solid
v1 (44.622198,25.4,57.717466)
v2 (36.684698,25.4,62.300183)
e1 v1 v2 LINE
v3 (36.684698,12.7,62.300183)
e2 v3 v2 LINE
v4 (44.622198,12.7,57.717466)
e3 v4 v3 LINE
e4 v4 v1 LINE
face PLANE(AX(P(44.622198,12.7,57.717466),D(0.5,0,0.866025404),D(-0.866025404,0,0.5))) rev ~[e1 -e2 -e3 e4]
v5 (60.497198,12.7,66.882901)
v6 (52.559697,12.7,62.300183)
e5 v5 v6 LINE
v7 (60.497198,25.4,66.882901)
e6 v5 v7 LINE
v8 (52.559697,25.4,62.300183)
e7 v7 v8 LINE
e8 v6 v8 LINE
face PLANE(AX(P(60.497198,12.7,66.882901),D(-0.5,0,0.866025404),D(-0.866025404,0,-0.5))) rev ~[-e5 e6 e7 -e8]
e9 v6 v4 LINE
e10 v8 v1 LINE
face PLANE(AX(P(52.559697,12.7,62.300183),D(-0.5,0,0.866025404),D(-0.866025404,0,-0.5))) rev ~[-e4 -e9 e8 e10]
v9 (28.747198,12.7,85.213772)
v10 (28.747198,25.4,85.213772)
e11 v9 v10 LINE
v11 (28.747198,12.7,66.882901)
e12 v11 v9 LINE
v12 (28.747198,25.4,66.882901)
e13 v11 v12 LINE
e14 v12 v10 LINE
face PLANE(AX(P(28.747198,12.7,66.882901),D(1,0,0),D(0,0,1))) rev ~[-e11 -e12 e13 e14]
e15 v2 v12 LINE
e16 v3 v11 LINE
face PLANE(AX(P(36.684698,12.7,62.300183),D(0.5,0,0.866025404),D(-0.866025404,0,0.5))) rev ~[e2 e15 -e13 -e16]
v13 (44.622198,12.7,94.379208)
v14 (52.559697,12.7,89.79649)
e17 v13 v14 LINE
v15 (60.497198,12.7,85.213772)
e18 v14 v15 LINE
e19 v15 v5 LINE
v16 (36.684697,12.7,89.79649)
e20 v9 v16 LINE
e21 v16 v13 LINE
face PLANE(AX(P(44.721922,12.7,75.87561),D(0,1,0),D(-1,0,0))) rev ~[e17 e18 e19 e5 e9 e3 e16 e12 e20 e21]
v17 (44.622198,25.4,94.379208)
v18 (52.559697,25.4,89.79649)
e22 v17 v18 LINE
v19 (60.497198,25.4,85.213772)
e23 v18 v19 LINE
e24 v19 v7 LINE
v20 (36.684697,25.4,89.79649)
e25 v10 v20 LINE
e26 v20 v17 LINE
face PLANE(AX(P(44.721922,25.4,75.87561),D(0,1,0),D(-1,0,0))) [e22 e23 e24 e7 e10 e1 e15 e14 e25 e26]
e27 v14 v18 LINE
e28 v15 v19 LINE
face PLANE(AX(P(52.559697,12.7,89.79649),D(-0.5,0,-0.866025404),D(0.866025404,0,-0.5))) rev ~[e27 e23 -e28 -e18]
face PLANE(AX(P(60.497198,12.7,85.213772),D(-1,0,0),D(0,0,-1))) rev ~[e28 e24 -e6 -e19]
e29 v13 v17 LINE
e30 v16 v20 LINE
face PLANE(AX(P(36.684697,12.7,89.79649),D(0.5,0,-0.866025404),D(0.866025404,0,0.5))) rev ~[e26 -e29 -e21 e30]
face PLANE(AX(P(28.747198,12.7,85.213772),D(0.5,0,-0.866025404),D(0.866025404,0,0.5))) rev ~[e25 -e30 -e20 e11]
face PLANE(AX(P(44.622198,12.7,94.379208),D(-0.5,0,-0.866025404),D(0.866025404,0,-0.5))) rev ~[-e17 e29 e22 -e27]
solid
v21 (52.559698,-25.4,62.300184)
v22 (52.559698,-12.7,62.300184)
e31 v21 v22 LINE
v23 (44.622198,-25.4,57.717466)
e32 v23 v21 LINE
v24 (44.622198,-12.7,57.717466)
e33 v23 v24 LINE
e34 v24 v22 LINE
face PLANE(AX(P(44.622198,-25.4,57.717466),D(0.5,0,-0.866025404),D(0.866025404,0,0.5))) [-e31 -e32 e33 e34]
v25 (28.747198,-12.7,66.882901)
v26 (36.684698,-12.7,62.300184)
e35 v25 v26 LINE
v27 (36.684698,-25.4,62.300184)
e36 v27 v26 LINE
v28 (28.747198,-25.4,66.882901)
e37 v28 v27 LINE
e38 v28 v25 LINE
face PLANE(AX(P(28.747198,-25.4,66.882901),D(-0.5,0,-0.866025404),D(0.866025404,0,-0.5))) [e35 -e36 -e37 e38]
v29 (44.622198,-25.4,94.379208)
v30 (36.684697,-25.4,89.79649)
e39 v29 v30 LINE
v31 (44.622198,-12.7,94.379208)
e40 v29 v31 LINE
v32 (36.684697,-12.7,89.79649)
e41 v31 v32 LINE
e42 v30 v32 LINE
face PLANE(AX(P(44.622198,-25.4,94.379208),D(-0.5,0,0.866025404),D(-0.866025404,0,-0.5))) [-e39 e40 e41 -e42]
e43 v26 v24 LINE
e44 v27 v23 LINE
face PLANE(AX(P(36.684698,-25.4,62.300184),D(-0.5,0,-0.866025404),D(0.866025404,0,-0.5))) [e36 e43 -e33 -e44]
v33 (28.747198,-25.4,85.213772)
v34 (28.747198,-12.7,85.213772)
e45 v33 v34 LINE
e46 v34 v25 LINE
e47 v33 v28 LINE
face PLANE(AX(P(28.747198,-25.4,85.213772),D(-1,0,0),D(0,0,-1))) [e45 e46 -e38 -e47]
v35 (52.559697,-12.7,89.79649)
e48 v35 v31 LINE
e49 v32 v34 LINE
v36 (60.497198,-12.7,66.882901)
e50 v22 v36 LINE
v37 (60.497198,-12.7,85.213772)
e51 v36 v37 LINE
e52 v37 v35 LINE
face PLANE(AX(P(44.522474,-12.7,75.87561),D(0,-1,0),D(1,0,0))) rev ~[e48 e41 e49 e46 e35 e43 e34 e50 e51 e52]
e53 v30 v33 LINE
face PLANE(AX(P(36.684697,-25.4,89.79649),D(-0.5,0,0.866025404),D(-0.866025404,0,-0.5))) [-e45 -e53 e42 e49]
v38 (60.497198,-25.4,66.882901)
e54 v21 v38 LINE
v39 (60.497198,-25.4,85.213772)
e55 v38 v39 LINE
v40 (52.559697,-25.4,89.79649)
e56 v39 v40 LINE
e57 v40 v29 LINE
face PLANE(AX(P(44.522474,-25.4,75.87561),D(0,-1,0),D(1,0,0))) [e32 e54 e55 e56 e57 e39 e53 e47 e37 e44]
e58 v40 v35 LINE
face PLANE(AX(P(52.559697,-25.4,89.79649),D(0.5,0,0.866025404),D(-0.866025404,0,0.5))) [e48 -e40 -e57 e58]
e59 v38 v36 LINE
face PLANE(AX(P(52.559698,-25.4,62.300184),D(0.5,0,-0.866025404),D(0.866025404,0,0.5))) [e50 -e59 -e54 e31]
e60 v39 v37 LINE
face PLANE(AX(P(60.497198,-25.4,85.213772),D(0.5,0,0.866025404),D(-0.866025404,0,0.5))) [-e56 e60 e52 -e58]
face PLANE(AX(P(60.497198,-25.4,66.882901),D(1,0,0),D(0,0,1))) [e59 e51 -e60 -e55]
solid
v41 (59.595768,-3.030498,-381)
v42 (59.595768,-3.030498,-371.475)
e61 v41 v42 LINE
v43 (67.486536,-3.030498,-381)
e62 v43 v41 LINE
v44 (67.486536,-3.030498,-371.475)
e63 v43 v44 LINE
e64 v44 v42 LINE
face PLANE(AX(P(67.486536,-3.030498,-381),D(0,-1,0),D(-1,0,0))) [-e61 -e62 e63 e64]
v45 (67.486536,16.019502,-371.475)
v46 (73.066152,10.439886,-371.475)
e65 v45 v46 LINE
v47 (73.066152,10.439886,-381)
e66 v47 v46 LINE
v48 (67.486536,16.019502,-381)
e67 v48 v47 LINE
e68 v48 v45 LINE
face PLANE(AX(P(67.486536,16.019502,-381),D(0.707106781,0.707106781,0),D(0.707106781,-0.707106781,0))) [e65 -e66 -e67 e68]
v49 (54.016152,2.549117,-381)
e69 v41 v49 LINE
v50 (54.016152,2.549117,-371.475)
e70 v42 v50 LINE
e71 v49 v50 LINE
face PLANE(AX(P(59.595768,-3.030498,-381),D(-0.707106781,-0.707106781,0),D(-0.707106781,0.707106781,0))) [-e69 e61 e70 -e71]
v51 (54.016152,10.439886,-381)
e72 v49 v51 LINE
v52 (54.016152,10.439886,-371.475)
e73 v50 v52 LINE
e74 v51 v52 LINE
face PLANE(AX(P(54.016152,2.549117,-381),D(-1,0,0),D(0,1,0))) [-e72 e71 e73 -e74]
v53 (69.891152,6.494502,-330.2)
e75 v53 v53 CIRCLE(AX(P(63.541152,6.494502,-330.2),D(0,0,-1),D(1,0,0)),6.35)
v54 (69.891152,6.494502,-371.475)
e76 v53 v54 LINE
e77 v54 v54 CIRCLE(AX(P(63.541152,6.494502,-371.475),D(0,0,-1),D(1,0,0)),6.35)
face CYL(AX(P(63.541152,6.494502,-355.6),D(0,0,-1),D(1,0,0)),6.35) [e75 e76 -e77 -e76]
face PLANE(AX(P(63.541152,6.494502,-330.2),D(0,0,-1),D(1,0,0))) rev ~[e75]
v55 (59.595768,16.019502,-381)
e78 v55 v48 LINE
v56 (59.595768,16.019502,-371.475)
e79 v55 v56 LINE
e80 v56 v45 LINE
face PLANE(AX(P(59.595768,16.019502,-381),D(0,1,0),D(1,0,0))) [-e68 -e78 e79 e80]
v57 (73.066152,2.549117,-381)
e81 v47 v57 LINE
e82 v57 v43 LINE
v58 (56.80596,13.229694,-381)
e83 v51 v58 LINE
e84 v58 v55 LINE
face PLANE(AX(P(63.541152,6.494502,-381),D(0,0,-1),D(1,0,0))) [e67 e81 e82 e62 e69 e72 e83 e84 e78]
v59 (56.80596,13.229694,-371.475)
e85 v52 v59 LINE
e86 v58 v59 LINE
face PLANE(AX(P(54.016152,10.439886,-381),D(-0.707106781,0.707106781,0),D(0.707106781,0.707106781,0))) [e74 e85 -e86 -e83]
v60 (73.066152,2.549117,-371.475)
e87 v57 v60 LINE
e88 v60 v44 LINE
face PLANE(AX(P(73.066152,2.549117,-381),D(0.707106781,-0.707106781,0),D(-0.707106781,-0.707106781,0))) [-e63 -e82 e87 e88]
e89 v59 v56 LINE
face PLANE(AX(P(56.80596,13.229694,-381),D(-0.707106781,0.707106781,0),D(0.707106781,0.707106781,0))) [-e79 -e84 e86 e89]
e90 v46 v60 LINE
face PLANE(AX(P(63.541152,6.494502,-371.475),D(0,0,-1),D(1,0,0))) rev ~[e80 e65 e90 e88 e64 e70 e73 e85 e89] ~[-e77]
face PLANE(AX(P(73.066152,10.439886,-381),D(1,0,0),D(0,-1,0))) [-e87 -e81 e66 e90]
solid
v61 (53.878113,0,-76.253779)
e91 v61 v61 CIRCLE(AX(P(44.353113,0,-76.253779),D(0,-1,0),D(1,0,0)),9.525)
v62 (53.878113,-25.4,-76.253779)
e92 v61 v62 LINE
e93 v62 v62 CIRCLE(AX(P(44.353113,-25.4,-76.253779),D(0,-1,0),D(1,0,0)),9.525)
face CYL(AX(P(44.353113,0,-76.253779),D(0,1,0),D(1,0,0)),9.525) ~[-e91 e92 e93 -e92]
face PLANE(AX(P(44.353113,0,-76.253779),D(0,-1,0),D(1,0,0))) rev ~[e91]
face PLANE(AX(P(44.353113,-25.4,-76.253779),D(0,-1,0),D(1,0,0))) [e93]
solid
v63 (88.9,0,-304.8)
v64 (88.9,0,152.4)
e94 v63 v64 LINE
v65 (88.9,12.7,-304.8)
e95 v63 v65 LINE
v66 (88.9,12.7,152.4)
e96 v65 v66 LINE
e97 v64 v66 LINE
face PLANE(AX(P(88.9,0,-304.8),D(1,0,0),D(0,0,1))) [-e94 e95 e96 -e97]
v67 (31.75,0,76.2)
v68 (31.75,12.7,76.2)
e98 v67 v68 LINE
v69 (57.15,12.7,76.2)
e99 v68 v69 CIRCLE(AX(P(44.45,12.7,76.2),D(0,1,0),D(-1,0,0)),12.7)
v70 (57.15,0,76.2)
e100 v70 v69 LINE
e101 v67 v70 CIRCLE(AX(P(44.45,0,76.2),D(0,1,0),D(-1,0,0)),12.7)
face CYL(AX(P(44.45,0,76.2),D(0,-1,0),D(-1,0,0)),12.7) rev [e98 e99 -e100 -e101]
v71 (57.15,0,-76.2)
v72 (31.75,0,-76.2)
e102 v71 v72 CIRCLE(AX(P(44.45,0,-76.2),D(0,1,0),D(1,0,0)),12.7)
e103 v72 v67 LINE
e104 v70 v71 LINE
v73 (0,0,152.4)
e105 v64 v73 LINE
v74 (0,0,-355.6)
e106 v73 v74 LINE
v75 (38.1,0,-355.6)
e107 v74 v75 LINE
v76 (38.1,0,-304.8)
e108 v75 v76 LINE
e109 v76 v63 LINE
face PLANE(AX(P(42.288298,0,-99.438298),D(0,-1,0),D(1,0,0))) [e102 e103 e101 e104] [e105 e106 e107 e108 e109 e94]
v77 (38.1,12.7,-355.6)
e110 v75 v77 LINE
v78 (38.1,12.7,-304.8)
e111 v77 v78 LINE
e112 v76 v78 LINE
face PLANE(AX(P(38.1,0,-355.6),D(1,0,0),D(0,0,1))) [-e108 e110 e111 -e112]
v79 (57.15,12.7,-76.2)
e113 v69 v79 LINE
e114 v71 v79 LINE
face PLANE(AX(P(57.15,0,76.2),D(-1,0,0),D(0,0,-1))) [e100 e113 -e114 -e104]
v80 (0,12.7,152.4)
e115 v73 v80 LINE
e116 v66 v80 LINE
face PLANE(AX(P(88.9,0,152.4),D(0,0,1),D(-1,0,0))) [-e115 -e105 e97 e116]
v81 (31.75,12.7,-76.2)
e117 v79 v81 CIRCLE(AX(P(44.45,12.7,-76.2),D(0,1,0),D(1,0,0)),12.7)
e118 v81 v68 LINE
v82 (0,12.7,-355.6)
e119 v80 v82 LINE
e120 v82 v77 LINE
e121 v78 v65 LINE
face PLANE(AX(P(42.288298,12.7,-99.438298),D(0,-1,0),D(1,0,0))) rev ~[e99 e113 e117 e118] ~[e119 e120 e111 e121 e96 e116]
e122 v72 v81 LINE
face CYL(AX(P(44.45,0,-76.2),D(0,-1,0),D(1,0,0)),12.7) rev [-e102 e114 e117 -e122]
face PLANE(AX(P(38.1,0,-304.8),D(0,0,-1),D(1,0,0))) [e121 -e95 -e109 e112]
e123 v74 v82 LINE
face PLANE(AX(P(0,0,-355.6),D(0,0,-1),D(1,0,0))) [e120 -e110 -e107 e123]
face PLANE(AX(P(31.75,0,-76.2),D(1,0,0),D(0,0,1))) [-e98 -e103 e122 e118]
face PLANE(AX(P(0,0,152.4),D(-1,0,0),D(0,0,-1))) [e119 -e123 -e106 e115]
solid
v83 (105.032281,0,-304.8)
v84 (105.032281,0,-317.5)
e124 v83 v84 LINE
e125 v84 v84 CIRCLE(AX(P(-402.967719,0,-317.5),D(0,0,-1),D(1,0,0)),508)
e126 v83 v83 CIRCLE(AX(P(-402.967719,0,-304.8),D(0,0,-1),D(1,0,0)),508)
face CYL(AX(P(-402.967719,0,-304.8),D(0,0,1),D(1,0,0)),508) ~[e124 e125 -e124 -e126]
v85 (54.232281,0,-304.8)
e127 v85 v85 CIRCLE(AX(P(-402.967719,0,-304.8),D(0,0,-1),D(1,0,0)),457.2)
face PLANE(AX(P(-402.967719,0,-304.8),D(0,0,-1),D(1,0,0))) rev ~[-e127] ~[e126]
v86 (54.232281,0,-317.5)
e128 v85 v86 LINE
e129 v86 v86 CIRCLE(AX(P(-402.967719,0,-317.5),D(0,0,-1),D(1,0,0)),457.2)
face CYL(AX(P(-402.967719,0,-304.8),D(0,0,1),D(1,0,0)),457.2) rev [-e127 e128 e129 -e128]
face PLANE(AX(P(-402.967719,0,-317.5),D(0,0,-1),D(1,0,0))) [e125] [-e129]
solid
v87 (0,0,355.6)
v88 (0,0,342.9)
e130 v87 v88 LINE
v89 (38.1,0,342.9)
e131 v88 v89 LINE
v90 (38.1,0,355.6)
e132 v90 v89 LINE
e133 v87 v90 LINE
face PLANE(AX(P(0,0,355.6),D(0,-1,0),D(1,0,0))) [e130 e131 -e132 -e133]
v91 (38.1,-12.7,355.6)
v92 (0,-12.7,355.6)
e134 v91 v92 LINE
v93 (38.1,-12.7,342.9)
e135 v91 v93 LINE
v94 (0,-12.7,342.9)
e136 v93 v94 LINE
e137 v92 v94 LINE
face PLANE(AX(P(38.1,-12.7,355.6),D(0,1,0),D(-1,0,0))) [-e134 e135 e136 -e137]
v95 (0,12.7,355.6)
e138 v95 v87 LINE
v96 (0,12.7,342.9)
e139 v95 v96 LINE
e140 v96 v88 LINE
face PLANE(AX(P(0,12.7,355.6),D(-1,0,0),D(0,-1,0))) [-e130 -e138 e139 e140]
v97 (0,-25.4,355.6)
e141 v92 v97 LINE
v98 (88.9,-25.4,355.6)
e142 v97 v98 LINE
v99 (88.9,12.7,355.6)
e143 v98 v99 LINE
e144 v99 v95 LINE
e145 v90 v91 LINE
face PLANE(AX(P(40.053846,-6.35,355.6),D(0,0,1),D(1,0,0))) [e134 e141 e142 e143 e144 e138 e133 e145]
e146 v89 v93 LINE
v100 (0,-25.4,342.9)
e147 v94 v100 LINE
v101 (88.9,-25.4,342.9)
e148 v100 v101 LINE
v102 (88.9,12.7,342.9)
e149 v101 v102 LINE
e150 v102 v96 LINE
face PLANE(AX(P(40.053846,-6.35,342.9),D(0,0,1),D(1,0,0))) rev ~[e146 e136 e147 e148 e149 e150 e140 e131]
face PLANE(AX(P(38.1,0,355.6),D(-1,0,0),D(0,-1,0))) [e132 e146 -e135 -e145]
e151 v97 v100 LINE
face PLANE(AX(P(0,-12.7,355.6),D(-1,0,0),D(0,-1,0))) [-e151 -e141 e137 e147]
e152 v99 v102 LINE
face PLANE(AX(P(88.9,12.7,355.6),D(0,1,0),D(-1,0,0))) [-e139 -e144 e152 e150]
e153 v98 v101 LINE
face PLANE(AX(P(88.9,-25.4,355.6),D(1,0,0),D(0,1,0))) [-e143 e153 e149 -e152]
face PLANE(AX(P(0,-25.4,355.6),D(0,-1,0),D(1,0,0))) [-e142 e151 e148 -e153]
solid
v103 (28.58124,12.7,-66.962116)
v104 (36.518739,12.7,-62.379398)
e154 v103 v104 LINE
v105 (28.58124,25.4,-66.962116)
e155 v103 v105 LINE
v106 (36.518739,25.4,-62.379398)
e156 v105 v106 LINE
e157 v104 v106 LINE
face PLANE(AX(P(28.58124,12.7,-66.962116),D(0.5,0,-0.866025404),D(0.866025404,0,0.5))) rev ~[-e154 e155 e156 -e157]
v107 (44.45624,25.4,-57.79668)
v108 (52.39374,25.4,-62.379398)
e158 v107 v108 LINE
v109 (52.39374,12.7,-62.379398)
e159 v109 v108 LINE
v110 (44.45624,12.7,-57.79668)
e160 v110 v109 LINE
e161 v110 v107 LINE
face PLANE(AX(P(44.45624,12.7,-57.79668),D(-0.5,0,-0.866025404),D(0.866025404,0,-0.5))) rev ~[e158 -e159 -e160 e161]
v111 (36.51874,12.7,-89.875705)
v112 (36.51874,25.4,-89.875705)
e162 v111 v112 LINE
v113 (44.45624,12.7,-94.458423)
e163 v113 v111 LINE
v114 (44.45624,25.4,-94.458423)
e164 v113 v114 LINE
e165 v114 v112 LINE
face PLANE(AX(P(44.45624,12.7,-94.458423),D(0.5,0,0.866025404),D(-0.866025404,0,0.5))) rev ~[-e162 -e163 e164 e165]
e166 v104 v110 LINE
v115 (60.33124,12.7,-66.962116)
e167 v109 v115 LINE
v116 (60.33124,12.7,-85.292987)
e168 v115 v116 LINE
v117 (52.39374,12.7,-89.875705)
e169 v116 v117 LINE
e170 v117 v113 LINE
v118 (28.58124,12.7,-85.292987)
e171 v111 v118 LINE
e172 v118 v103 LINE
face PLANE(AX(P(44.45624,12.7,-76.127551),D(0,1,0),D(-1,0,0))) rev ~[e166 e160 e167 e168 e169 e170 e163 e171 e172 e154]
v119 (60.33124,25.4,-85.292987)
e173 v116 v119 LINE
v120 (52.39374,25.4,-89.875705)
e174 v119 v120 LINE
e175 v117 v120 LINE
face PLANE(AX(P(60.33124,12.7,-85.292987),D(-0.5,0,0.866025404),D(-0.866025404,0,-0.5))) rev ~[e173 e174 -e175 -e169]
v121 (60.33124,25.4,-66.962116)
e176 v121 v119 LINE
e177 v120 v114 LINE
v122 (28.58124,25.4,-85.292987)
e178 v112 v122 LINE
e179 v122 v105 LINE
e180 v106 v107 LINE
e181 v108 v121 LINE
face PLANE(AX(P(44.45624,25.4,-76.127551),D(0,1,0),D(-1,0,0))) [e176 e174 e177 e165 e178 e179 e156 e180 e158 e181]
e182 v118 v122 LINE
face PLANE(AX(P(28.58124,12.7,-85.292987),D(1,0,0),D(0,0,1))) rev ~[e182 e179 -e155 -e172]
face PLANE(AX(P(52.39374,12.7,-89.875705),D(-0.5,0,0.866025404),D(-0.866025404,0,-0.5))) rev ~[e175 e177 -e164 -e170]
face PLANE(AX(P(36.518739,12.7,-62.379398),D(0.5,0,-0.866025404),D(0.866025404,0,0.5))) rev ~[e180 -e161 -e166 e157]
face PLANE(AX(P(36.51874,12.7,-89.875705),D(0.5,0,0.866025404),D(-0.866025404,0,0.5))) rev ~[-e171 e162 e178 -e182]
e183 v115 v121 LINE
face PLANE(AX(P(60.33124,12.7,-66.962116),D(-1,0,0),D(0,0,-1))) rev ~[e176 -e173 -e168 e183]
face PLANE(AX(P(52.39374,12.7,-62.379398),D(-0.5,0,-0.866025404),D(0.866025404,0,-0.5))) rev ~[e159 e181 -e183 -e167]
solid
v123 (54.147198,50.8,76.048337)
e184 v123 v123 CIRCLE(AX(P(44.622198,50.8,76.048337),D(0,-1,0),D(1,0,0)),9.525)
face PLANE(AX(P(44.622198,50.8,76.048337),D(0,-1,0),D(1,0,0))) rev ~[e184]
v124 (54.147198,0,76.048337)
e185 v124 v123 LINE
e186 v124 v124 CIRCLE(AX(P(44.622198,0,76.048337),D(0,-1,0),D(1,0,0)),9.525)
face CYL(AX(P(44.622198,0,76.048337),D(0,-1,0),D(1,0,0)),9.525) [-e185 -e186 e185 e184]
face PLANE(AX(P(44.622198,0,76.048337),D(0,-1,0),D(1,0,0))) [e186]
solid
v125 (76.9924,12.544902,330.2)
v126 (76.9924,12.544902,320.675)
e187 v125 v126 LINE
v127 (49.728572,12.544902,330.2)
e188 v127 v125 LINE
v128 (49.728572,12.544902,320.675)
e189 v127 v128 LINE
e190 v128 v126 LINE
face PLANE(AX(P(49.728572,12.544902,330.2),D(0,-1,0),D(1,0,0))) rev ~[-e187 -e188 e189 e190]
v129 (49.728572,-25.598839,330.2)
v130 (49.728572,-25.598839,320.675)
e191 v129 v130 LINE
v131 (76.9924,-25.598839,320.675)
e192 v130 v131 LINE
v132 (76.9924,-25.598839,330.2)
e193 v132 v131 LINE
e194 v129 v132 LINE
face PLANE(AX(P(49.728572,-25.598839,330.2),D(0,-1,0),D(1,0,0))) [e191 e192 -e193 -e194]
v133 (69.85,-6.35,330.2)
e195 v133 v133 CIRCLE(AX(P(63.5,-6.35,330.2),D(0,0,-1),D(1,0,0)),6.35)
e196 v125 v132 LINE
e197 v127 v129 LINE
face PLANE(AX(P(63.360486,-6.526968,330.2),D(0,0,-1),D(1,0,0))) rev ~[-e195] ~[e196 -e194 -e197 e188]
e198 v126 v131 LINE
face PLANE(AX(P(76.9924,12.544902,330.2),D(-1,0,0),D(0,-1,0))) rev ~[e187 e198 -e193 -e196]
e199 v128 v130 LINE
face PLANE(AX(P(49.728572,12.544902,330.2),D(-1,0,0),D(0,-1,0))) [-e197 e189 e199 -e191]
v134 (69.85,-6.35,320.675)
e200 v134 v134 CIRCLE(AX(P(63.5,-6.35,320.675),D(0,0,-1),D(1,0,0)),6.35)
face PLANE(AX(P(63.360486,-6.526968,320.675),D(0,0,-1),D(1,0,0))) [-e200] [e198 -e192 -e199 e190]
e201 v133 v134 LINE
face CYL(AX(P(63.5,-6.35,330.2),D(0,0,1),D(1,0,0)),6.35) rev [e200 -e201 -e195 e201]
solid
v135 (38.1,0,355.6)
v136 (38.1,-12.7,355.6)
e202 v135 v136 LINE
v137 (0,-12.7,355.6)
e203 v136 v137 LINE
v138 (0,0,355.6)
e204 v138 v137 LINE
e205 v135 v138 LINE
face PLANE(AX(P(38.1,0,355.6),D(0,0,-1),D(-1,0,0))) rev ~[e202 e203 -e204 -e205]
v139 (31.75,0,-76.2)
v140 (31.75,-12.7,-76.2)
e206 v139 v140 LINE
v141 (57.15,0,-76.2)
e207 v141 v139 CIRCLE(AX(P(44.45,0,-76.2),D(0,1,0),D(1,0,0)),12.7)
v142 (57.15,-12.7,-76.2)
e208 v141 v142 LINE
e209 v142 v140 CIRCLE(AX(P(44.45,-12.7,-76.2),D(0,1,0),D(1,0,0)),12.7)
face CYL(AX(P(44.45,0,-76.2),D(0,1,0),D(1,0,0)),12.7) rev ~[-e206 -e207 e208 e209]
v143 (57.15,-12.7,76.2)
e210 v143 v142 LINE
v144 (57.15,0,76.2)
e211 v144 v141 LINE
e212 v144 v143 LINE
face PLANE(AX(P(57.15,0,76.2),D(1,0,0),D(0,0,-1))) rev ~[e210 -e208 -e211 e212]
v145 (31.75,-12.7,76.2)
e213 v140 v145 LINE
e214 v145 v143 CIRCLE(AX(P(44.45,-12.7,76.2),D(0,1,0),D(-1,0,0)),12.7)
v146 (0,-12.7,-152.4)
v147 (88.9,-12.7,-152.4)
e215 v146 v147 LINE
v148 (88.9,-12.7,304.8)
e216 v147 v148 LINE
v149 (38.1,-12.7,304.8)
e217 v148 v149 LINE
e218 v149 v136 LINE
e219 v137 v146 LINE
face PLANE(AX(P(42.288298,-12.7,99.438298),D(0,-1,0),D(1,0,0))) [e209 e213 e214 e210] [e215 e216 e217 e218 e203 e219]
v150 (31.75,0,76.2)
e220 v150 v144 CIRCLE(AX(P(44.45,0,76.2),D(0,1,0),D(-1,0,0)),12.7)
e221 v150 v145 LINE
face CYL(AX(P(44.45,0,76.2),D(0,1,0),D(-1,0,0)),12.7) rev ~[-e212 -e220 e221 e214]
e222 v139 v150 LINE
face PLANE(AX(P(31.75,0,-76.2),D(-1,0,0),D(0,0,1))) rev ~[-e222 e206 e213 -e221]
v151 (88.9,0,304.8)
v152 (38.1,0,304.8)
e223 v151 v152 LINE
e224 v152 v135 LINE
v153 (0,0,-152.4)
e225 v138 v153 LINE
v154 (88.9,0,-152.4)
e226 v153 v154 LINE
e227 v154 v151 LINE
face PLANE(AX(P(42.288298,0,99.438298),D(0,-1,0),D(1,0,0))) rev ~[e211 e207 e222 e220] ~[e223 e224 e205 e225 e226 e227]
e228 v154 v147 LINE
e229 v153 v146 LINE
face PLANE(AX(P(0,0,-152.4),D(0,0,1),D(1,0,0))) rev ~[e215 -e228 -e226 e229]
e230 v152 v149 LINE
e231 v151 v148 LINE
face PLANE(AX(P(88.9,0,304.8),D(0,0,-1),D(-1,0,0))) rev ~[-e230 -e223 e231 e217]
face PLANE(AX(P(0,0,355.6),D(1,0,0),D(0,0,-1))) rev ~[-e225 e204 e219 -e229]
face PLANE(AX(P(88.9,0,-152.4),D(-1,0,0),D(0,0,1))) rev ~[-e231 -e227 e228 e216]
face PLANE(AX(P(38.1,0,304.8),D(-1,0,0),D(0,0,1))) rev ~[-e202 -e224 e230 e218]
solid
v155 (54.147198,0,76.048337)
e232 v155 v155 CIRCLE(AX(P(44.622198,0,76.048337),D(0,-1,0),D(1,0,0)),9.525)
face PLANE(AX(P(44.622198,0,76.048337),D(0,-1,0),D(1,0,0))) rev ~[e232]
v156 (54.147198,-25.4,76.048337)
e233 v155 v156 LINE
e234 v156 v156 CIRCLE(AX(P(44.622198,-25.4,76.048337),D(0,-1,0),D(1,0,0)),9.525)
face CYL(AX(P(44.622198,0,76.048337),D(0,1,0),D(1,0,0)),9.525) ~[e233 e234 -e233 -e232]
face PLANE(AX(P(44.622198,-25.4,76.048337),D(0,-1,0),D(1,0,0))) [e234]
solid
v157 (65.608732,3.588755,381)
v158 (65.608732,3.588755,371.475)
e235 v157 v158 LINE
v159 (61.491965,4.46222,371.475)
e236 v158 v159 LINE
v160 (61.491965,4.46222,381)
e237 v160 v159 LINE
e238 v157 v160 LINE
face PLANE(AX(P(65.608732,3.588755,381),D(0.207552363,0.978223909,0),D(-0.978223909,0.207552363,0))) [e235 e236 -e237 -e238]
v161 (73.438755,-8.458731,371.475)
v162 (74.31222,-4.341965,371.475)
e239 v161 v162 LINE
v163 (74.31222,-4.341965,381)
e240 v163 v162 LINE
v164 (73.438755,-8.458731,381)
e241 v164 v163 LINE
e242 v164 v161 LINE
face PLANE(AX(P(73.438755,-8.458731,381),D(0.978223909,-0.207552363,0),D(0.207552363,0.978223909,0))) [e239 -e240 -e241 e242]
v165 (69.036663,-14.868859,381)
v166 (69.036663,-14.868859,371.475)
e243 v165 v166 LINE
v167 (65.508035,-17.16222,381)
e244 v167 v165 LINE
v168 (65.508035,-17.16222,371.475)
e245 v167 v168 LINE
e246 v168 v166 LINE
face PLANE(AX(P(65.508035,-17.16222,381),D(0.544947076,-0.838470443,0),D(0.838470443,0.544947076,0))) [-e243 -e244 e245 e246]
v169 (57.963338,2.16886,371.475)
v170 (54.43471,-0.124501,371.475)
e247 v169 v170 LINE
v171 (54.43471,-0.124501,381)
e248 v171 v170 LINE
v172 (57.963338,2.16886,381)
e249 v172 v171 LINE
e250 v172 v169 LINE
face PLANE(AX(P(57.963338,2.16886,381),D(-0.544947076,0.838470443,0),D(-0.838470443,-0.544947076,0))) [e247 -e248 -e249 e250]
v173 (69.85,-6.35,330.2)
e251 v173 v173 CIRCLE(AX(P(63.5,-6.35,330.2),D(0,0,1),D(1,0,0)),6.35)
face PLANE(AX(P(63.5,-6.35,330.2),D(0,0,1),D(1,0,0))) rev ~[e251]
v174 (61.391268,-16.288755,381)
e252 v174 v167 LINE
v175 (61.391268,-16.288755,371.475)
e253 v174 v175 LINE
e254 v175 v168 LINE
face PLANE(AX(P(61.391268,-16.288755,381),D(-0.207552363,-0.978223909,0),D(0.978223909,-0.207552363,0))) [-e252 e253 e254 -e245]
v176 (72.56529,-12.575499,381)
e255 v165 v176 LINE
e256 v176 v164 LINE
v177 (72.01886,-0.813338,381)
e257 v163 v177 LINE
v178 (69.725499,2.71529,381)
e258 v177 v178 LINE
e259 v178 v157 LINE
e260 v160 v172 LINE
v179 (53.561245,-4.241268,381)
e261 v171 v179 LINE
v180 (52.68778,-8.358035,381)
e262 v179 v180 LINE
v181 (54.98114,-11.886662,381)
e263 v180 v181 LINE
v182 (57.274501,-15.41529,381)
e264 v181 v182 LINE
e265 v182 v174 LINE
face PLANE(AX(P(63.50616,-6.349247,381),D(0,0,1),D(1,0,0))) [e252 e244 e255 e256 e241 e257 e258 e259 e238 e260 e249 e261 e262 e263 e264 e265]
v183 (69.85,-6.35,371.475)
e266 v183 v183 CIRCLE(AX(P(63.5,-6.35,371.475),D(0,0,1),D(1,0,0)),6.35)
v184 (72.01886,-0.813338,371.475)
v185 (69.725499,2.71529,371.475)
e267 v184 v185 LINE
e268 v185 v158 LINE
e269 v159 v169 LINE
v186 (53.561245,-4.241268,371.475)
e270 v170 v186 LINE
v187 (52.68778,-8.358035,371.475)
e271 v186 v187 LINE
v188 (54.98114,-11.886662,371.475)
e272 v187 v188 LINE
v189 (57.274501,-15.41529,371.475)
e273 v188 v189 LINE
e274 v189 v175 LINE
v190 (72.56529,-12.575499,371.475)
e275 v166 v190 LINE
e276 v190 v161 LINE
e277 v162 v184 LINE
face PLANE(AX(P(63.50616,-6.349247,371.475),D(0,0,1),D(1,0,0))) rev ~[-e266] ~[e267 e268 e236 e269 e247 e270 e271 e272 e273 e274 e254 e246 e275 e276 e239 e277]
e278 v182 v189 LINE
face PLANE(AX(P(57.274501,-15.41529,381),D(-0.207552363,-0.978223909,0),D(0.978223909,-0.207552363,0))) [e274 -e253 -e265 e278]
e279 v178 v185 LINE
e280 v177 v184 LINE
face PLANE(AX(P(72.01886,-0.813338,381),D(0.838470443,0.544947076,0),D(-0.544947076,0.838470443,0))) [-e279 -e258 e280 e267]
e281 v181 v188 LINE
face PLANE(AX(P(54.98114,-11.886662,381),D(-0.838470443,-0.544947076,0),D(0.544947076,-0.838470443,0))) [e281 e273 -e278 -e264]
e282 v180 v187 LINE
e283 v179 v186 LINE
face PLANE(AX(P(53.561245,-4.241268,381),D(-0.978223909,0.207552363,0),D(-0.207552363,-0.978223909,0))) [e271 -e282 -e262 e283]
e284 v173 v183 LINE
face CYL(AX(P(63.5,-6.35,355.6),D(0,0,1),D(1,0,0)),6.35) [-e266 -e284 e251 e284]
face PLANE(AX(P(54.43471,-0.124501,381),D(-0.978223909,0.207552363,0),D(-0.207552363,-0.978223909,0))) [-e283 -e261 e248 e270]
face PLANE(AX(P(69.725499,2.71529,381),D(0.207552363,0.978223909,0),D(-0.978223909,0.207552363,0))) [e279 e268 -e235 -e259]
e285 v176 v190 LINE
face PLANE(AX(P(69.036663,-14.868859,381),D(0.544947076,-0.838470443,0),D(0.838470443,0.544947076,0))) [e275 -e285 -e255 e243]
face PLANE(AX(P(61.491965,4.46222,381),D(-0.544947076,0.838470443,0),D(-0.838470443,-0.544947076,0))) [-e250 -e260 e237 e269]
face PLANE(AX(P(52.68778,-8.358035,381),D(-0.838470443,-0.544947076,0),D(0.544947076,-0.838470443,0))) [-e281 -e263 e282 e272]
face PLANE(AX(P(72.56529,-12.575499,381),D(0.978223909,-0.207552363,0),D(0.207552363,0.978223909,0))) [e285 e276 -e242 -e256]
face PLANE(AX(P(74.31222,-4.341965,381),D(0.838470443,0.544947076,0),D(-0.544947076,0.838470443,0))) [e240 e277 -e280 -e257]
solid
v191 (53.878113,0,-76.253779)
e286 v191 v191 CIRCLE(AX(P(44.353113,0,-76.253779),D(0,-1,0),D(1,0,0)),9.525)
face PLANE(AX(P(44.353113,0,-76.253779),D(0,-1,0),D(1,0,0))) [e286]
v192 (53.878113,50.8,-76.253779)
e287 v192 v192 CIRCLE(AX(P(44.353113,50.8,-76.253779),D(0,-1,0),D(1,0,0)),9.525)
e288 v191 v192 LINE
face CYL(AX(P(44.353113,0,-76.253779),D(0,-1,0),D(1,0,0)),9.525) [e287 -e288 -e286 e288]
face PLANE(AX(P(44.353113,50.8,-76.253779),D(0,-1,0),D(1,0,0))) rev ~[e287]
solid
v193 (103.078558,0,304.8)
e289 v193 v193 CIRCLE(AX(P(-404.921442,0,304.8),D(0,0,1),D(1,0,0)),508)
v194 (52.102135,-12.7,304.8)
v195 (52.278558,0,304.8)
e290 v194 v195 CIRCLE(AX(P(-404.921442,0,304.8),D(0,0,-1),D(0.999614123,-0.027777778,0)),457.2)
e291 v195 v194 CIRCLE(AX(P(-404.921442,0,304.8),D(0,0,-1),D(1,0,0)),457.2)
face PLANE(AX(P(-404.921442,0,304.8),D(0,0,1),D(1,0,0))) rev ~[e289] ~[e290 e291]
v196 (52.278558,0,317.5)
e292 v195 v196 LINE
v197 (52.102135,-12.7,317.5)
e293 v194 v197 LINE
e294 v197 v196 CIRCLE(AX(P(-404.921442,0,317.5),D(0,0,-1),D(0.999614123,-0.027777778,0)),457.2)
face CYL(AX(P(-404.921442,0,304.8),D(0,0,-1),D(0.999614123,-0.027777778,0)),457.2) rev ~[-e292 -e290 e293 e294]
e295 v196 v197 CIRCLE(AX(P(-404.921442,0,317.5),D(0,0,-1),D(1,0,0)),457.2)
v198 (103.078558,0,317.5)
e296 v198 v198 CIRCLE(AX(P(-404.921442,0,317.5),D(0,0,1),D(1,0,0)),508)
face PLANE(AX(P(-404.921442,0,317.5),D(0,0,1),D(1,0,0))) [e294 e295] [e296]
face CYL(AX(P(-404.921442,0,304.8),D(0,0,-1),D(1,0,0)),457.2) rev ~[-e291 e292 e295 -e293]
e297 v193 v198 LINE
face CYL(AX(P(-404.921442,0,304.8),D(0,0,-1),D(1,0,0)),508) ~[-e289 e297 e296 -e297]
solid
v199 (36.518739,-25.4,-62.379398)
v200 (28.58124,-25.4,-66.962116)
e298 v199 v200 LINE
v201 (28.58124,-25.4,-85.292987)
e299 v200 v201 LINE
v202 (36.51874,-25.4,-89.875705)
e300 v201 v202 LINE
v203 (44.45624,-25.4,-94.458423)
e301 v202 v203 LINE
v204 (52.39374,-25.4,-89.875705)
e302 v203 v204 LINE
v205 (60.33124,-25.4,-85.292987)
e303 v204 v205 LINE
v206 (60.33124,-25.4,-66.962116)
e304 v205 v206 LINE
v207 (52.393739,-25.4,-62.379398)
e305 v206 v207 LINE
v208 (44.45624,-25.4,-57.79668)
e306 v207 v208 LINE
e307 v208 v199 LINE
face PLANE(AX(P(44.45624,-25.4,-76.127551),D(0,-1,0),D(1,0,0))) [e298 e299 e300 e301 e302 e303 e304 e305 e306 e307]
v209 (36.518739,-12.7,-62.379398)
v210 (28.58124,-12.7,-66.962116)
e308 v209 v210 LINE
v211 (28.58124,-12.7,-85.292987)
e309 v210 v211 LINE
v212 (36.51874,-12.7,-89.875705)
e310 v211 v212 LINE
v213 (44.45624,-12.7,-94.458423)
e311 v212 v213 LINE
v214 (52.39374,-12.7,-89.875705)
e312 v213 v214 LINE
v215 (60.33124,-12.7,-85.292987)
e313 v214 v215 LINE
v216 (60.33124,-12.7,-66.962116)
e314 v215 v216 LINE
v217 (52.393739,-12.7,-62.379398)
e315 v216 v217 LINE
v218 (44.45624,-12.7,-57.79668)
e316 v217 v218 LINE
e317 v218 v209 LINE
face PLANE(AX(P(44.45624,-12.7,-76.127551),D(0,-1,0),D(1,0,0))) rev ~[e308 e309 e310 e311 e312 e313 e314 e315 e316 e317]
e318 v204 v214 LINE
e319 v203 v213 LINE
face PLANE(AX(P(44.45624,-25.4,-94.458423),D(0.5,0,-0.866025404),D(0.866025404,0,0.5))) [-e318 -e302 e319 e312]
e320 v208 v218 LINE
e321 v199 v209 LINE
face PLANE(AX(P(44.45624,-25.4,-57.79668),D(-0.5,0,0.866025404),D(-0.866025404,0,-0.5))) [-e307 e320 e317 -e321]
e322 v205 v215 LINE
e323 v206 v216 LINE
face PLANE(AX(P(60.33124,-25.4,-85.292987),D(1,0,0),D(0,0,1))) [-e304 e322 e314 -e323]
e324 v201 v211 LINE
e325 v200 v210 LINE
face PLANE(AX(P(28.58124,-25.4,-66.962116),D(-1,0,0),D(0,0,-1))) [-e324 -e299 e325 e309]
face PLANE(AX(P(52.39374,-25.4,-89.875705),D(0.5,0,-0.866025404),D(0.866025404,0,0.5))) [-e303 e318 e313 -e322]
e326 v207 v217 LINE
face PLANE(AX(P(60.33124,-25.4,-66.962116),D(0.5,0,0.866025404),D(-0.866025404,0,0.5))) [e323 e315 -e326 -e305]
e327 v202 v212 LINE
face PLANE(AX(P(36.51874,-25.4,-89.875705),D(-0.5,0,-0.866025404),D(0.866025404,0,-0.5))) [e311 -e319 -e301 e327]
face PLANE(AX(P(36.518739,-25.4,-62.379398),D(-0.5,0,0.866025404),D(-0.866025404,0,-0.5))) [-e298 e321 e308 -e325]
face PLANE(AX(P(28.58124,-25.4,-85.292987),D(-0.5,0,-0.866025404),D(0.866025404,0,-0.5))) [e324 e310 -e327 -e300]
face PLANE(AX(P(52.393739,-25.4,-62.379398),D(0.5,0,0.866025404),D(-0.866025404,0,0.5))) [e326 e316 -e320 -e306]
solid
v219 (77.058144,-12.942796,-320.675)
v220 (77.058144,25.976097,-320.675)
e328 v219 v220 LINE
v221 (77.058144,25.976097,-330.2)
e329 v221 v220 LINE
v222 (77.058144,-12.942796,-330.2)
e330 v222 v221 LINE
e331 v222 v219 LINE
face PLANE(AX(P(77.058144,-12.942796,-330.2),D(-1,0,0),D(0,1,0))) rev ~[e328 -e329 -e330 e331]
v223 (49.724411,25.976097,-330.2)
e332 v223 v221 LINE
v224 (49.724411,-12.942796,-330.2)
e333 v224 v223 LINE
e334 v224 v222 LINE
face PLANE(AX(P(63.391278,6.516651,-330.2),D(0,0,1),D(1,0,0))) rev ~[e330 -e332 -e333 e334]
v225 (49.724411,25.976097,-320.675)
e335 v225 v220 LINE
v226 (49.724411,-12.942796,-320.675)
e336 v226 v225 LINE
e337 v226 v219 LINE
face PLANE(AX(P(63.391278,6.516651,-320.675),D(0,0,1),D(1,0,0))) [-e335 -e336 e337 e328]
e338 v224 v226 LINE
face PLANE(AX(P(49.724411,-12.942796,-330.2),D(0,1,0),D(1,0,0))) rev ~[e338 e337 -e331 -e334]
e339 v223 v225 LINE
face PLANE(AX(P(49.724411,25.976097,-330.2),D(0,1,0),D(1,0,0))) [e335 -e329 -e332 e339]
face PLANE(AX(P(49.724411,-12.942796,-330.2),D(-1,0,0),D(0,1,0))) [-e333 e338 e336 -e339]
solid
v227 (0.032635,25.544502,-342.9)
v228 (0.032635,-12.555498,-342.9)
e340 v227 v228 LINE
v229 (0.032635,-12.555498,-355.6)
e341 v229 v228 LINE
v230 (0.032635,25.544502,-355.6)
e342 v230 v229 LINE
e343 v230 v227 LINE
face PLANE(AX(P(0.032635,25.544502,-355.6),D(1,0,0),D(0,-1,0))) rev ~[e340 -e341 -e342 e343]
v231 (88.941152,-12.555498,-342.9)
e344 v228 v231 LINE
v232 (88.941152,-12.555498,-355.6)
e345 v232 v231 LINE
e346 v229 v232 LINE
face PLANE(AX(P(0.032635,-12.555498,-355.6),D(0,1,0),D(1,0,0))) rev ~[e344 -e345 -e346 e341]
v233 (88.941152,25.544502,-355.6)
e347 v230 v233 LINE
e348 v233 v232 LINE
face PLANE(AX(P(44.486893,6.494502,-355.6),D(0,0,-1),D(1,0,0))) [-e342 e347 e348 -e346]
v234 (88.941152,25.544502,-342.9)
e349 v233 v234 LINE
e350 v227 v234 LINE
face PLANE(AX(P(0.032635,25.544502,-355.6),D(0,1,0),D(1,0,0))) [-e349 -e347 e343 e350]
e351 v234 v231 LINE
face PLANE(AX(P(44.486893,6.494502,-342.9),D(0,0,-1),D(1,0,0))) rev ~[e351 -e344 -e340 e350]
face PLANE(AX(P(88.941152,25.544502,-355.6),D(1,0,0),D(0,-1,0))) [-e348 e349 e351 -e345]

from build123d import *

# Parameters (mm, degrees)
F1_DEPTH  = 12.7
F3_DEPTH  = 12.7
F4_R      = 6.35
F5_DEPTH  = 25.4
F6_W      = 27.2638276219
F6_H      = 38.1437409669
F6_R      = 6.35
F7_DEPTH  = 9.525
F9_DEPTH  = 9.525
F11_DEPTH = 12.7
F12_W     = 88.9085167986
F12_H     = 38.1
F13_DEPTH = 12.7
F14_R     = 6.35
F15_DEPTH = 25.4
F16_W     = 27.3337326944
F16_H     = 38.918892853
F17_DEPTH = 9.525
F19_DEPTH = 9.525
F20_R     = 508
F21_DEPTH = 12.7
F22_R     = 508
F22_R_2   = 457.2
F23_DEPTH = 12.7
F24_R     = 9.525
F25_DEPTH = 25.4
F26_DEPTH = 50.8
F28_DEPTH = 12.7
F30_DEPTH = 12.7


with BuildPart() as f1:
    # F0 (on Front) → F1 (new body)
    with BuildSketch(Plane.XZ):
        Polygon((0, 355.6), (0, 0), (0, -152.4), (88.9, -152.4), (88.9, 304.8), (38.1, 304.8), (38.1, 355.6), align=None)
        with BuildLine():
            Line((31.75, -76.2), (31.75, 76.2))
            ThreePointArc((31.75, 76.2), (44.45, 88.9), (57.15, 76.2))
            Line((57.15, 76.2), (57.15, -76.2))
            ThreePointArc((57.15, -76.2), (44.45, -88.9), (31.75, -76.2))
        make_face(mode=Mode.SUBTRACT)
    extrude(amount=F1_DEPTH)


with BuildPart() as f3:
    # F2 (on face) → F3 (new body)
    with BuildSketch(Plane.XY.offset(355.6)):
        Polygon((88.9, 12.7), (0, 12.7), (0, 0), (38.1, 0), (38.1, -12.7), (0, -12.7), (0, -25.4), (88.9, -25.4), align=None)
    extrude(amount=-F3_DEPTH)


with BuildPart() as f5:
    # F4 (on face) → F5 (new body, symmetric)
    with BuildSketch(Plane.XY.offset(355.6)):
        with Locations((63.5, -6.35)):
            Circle(F4_R)
    extrude(amount=F5_DEPTH, both=True)

    # F8 (on face) → F9 (join)
    with BuildSketch(Plane.XY.offset(381)):
        with BuildLine():
            ThreePointArc((73.4387550271, -8.4587314936), (73.6045373737, -7.4101530373), (73.66, -6.35))
            ThreePointArc((73.66, -6.35), (73.2410783595, -3.4626149558), (72.0188597651, -0.8133378013))
            ThreePointArc((72.0188597651, -0.8133378013), (69.251611256, 2.0252353973), (65.6087320573, 3.5887549074))
            ThreePointArc((65.6087320573, 3.5887549074), (61.6448174982, 3.6391890504), (57.9633376644, 2.1688596761))
            ThreePointArc((57.9633376644, 2.1688596761), (55.1247645659, -0.5983887976), (53.5612450995, -4.2412679101))
            ThreePointArc((53.5612450995, -4.2412679101), (53.5108109316, -8.2051824052), (54.9811402349, -11.8866621987))
            ThreePointArc((54.9811402349, -11.8866621987), (57.7483889763, -14.7252355568), (61.391268494, -16.2887550244))
            ThreePointArc((61.391268494, -16.2887550244), (65.3551831041, -16.3391889386), (69.0366628902, -14.8688593156))
            ThreePointArc((69.0366628902, -14.8688593156), (71.8752357939, -12.1016106785), (73.4387550271, -8.4587314936))
        make_face()
        with BuildLine():
            ThreePointArc((72.0188597651, -0.8133378013), (73.2410783595, -3.4626149558), (73.66, -6.35))
            ThreePointArc((73.66, -6.35), (73.6045373737, -7.4101530373), (73.4387550271, -8.4587314936))
            Line((73.4387550271, -8.4587314936), (74.3122203154, -4.3419649296))
            Line((74.3122203154, -4.3419649296), (72.0188597651, -0.8133378013))
        make_face()
        with BuildLine():
            ThreePointArc((65.6087320573, 3.5887549074), (69.251611256, 2.0252353973), (72.0188597651, -0.8133378013))
            Line((72.0188597651, -0.8133378013), (69.7254990895, 2.7152895198))
            Line((69.7254990895, 2.7152895198), (65.6087320573, 3.5887549074))
        make_face()
        with BuildLine():
            Line((72.5652895198, -12.5754990895), (73.4387550271, -8.4587314936))
            ThreePointArc((73.4387550271, -8.4587314936), (71.8752357939, -12.1016106785), (69.0366628902, -14.8688593156))
            Line((69.0366628902, -14.8688593156), (72.5652895198, -12.5754990895))
        make_face()
        with BuildLine():
            ThreePointArc((57.9633376644, 2.1688596761), (61.6448174982, 3.6391890504), (65.6087320573, 3.5887549074))
            Line((65.6087320573, 3.5887549074), (61.4919649296, 4.4622203154))
            Line((61.4919649296, 4.4622203154), (57.9633376644, 2.1688596761))
        make_face()
        with BuildLine():
            Line((65.5080350704, -17.1622203154), (69.0366628902, -14.8688593156))
            ThreePointArc((69.0366628902, -14.8688593156), (65.3551831041, -16.3391889386), (61.391268494, -16.2887550244))
            Line((61.391268494, -16.2887550244), (65.5080350704, -17.1622203154))
        make_face()
        with BuildLine():
            ThreePointArc((53.5612450995, -4.2412679101), (55.1247645659, -0.5983887976), (57.9633376644, 2.1688596761))
            Line((57.9633376644, 2.1688596761), (54.4347104802, -0.1245009105))
            Line((54.4347104802, -0.1245009105), (53.5612450995, -4.2412679101))
        make_face()
        with BuildLine():
            Line((57.2745009105, -15.4152895198), (61.391268494, -16.2887550244))
            ThreePointArc((61.391268494, -16.2887550244), (57.7483889763, -14.7252355568), (54.9811402349, -11.8866621987))
            Line((54.9811402349, -11.8866621987), (57.2745009105, -15.4152895198))
        make_face()
        with BuildLine():
            ThreePointArc((54.9811402349, -11.8866621987), (53.5108109316, -8.2051824052), (53.5612450995, -4.2412679101))
            Line((53.5612450995, -4.2412679101), (52.6877796846, -8.3580350704))
            Line((52.6877796846, -8.3580350704), (54.9811402349, -11.8866621987))
        make_face()
    extrude(amount=-F9_DEPTH)


with BuildPart() as f7:
    # F6 (on face) → F7 (new body)
    with BuildSketch(Plane(origin=(0, 0, 330.2), x_dir=(1, 0, 0), z_dir=(0, 0, -1))):
        with Locations((63.3604861796, 6.5269684419)):
            Rectangle(F6_W, F6_H)
        with Locations((63.5, 6.35)):
            Circle(F6_R, mode=Mode.SUBTRACT)
    extrude(amount=F7_DEPTH)


with BuildPart() as f11:
    # F10 (on Front) → F11 (new body)
    with BuildSketch(Plane.XZ):
        Polygon((88.9, 152.4), (0, 152.4), (0, -355.6), (38.1, -355.6), (38.1, -304.8), (88.9, -304.8), align=None)
        with BuildLine():
            ThreePointArc((31.75, 76.2), (44.45, 88.9), (57.15, 76.2))
            Line((57.15, 76.2), (57.15, -76.2))
            ThreePointArc((57.15, -76.2), (44.45, -88.9), (31.75, -76.2))
            Line((31.75, -76.2), (31.75, 76.2))
        make_face(mode=Mode.SUBTRACT)
    extrude(amount=-F11_DEPTH)


with BuildPart() as f13:
    # F12 (on face) → F13 (new body)
    with BuildSketch(Plane(origin=(0, 0, -355.6), x_dir=(1, 0, 0), z_dir=(0, 0, -1))):
        with Locations((44.4868933555, -6.4945016056)):
            Rectangle(F12_W, F12_H)
    extrude(amount=-F13_DEPTH)


with BuildPart() as f15:
    # F14 (on face) → F15 (new body, symmetric)
    with BuildSketch(Plane(origin=(0, 0, -355.6), x_dir=(1, 0, 0), z_dir=(0, 0, -1))):
        with Locations((63.5411517548, -6.4945016056)):
            Circle(F14_R)
    extrude(amount=F15_DEPTH, both=True)

    # F18 (on face) → F19 (join)
    with BuildSketch(Plane(origin=(0, 0, -381), x_dir=(1, 0, 0), z_dir=(0, 0, -1))):
        with BuildLine():
            ThreePointArc((70.2763438456, -13.2296936964), (72.341104302, -10.1395612989), (73.0661517548, -6.4945016056))
            ThreePointArc((73.0661517548, -6.4945016056), (72.341104292, -2.8494418883), (70.2763438088, 0.240690522))
            ThreePointArc((70.2763438088, 0.240690522), (67.1862114046, 2.3054509596), (63.5411517127, 3.0304983944))
            ThreePointArc((63.5411517127, 3.0304983944), (59.8960920718, 2.3054509458), (56.8059597095, 0.2406905307))
            ThreePointArc((56.8059597095, 0.2406905307), (54.74119922, -2.8494418826), (54.0161517548, -6.4945016056))
            ThreePointArc((54.0161517548, -6.4945016056), (54.7411992046, -10.1395612915), (56.8059596526, -13.2296936851))
            ThreePointArc((56.8059596526, -13.2296936851), (59.8960920541, -15.2944541497), (63.5411517548, -16.0195016056))
            ThreePointArc((63.5411517548, -16.0195016056), (67.1862114481, -15.2944541528), (70.2763438456, -13.2296936964))
        make_face()
        with BuildLine():
            Line((73.0661517548, -10.4398857872), (73.0661517548, -6.4945016056))
            ThreePointArc((73.0661517548, -6.4945016056), (72.341104302, -10.1395612989), (70.2763438456, -13.2296936964))
            Line((70.2763438456, -13.2296936964), (73.0661517548, -10.4398857872))
        make_face()
        with BuildLine():
            ThreePointArc((70.2763438088, 0.240690522), (72.341104292, -2.8494418883), (73.0661517548, -6.4945016056))
            Line((73.0661517548, -6.4945016056), (73.0661517548, -2.549117424))
            Line((73.0661517548, -2.549117424), (70.2763438088, 0.240690522))
        make_face()
        with BuildLine():
            ThreePointArc((63.5411517127, 3.0304983944), (67.1862114046, 2.3054509596), (70.2763438088, 0.240690522))
            Line((70.2763438088, 0.240690522), (67.4865359364, 3.0304983944))
            Line((67.4865359364, 3.0304983944), (63.5411517127, 3.0304983944))
        make_face()
        with BuildLine():
            Line((67.4865359364, -16.0195016056), (70.2763438456, -13.2296936964))
            ThreePointArc((70.2763438456, -13.2296936964), (67.1862114481, -15.2944541528), (63.5411517548, -16.0195016056))
            Line((63.5411517548, -16.0195016056), (67.4865359364, -16.0195016056))
        make_face()
        with BuildLine():
            ThreePointArc((56.8059597095, 0.2406905307), (59.8960920718, 2.3054509458), (63.5411517127, 3.0304983944))
            Line((63.5411517127, 3.0304983944), (59.5957675732, 3.0304983944))
            Line((59.5957675732, 3.0304983944), (56.8059597095, 0.2406905307))
        make_face()
        with BuildLine():
            Line((59.5957675732, -16.0195016056), (63.5411517548, -16.0195016056))
            ThreePointArc((63.5411517548, -16.0195016056), (59.8960920541, -15.2944541497), (56.8059596526, -13.2296936851))
            Line((56.8059596526, -13.2296936851), (59.5957675732, -16.0195016056))
        make_face()
        with BuildLine():
            ThreePointArc((54.0161517548, -6.4945016056), (54.74119922, -2.8494418826), (56.8059597095, 0.2406905307))
            Line((56.8059597095, 0.2406905307), (54.0161517548, -2.549117424))
            Line((54.0161517548, -2.549117424), (54.0161517548, -6.4945016056))
        make_face()
        with BuildLine():
            Line((54.0161517548, -10.4398857872), (56.8059596526, -13.2296936851))
            ThreePointArc((56.8059596526, -13.2296936851), (54.7411992046, -10.1395612915), (54.0161517548, -6.4945016056))
            Line((54.0161517548, -6.4945016056), (54.0161517548, -10.4398857872))
        make_face()
    extrude(amount=-F19_DEPTH)


with BuildPart() as f17:
    # F16 (on face) → F17 (new body)
    with BuildSketch(Plane.XY.offset(-330.2)):
        with Locations((63.3912775666, 6.5166507848)):
            Rectangle(F16_W, F16_H)
    extrude(amount=F17_DEPTH)


with BuildPart() as f21:
    # F20 (on face) → F21 (new body)
    with BuildSketch(Plane.XY.offset(304.8)):
        with Locations((-404.9214422703, 0)):
            Circle(F20_R)
        with BuildLine():
            ThreePointArc((52.1021348021, -12.7), (-862.0773344107, 6.3506126683), (52.2785577297, 0))
            Line((52.2785577297, 0), (88.9, 0))
            Line((88.9, 0), (88.9, -12.7))
            Line((88.9, -12.7), (52.1021348021, -12.7))
        make_face(mode=Mode.SUBTRACT)
        with BuildLine():
            Line((88.9, 0), (52.2785577297, 0))
            ThreePointArc((52.2785577297, 0), (52.2344498702, -6.3506126683), (52.1021348021, -12.7))
            Line((52.1021348021, -12.7), (88.9, -12.7))
            Line((88.9, -12.7), (88.9, 0))
        make_face()
    extrude(amount=F21_DEPTH)


with BuildPart() as f23:
    # F22 (on face) → F23 (new body)
    with BuildSketch(Plane(origin=(0, 0, -304.8), x_dir=(1, 0, 0), z_dir=(0, 0, -1))):
        with Locations((-402.9677194172, 0)):
            Circle(F22_R)
        with Locations((-402.9677194172, 0)):
            Circle(F22_R_2, mode=Mode.SUBTRACT)
    extrude(amount=F23_DEPTH)


with BuildPart() as f25:
    # F24 (on Front) → F25 (new body)
    with BuildSketch(Plane.XZ):
        with Locations((44.6221977472, 76.0483369231)):
            Circle(F24_R)
    extrude(amount=F25_DEPTH)


with BuildPart() as f25b:
    # F24 (on Front) → F25, piece 2 (new body)
    with BuildSketch(Plane.XZ):
        with Locations((44.3531125784, -76.2537792325)):
            Circle(F24_R)
    extrude(amount=F25_DEPTH)


with BuildPart() as f26:
    # F24 (on Front) → F26 (new body)
    with BuildSketch(Plane.XZ):
        with Locations((44.6221977472, 76.0483369231)):
            Circle(F24_R)
    extrude(amount=-F26_DEPTH)


with BuildPart() as f26b:
    # F24 (on Front) → F26, piece 2 (new body)
    with BuildSketch(Plane.XZ):
        with Locations((44.3531125784, -76.2537792325)):
            Circle(F24_R)
    extrude(amount=-F26_DEPTH)


with BuildPart() as f28:
    # F27 (on face) → F28 (new body)
    with BuildSketch(Plane.XZ.offset(25.4)):
        with BuildLine():
            ThreePointArc((52.5596980605, 62.3001838189), (58.3703511227, 68.1108370798), (60.4971977472, 76.0483369231))
            ThreePointArc((60.4971977472, 76.0483369231), (58.3703509361, 83.9858370897), (52.5596974141, 89.7964904005))
            ThreePointArc((52.5596974141, 89.7964904005), (44.622197374, 91.9233369231), (36.6846974339, 89.7964900273))
            ThreePointArc((36.6846974339, 89.7964900273), (30.8740443717, 83.9858367665), (28.7471977472, 76.0483369231))
            ThreePointArc((28.7471977472, 76.0483369231), (30.8740443989, 68.1108370326), (36.6846975282, 62.3001837645))
            ThreePointArc((36.6846975282, 62.3001837645), (44.6221978017, 60.1733369231), (52.5596980605, 62.3001838189))
        make_face()
        with BuildLine():
            Line((60.4971977472, 66.8829013997), (60.4971977472, 76.0483369231))
            ThreePointArc((60.4971977472, 76.0483369231), (58.3703511227, 68.1108370798), (52.5596980605, 62.3001838189))
            Line((52.5596980605, 62.3001838189), (60.4971977472, 66.8829013997))
        make_face()
        with BuildLine():
            ThreePointArc((52.5596974141, 89.7964904005), (58.3703509361, 83.9858370897), (60.4971977472, 76.0483369231))
            Line((60.4971977472, 76.0483369231), (60.4971977472, 85.2137724465))
            Line((60.4971977472, 85.2137724465), (52.5596974141, 89.7964904005))
        make_face()
        with BuildLine():
            ThreePointArc((36.6846974339, 89.7964900273), (44.622197374, 91.9233369231), (52.5596974141, 89.7964904005))
            Line((52.5596974141, 89.7964904005), (44.6221977472, 94.3792079699))
            Line((44.6221977472, 94.3792079699), (36.6846974339, 89.7964900273))
        make_face()
        with BuildLine():
            Line((44.6221977472, 57.7174658764), (52.5596980605, 62.3001838189))
            ThreePointArc((52.5596980605, 62.3001838189), (44.6221978017, 60.1733369231), (36.6846975282, 62.3001837645))
            Line((36.6846975282, 62.3001837645), (44.6221977472, 57.7174658764))
        make_face()
        with BuildLine():
            ThreePointArc((28.7471977472, 76.0483369231), (30.8740443717, 83.9858367665), (36.6846974339, 89.7964900273))
            Line((36.6846974339, 89.7964900273), (28.7471977472, 85.2137724465))
            Line((28.7471977472, 85.2137724465), (28.7471977472, 76.0483369231))
        make_face()
        with BuildLine():
            Line((28.7471977472, 66.8829013997), (36.6846975282, 62.3001837645))
            ThreePointArc((36.6846975282, 62.3001837645), (30.8740443989, 68.1108370326), (28.7471977472, 76.0483369231))
            Line((28.7471977472, 76.0483369231), (28.7471977472, 66.8829013997))
        make_face()
    extrude(amount=-F28_DEPTH)


with BuildPart() as f28b:
    # F27 (on face) → F28, piece 2 (new body)
    with BuildSketch(Plane.XZ.offset(25.4)):
        with BuildLine():
            ThreePointArc((52.393740103, -89.8757046002), (58.2043931652, -84.0650513394), (60.3312397897, -76.127551496))
            ThreePointArc((60.3312397897, -76.127551496), (58.2043929786, -68.1900513295), (52.3937394566, -62.3793980186))
            ThreePointArc((52.3937394566, -62.3793980186), (44.4562394165, -60.252551496), (36.5187394764, -62.3793983918))
            ThreePointArc((36.5187394764, -62.3793983918), (30.7080864142, -68.1900516527), (28.5812397897, -76.127551496))
            ThreePointArc((28.5812397897, -76.127551496), (30.7080865672, -84.0650516043), (36.5187400063, -89.8757049061))
            ThreePointArc((36.5187400063, -89.8757049061), (44.4562400956, -92.002551496), (52.393740103, -89.8757046002))
        make_face()
        with BuildLine():
            Line((60.3312397897, -85.2929870194), (60.3312397897, -76.127551496))
            ThreePointArc((60.3312397897, -76.127551496), (58.2043931652, -84.0650513394), (52.393740103, -89.8757046002))
            Line((52.393740103, -89.8757046002), (60.3312397897, -85.2929870194))
        make_face()
        with BuildLine():
            ThreePointArc((52.3937394566, -62.3793980186), (58.2043929786, -68.1900513295), (60.3312397897, -76.127551496))
            Line((60.3312397897, -76.127551496), (60.3312397897, -66.9621159726))
            Line((60.3312397897, -66.9621159726), (52.3937394566, -62.3793980186))
        make_face()
        with BuildLine():
            ThreePointArc((36.5187394764, -62.3793983918), (44.4562394165, -60.252551496), (52.3937394566, -62.3793980186))
            Line((52.3937394566, -62.3793980186), (44.4562397897, -57.7966804493))
            Line((44.4562397897, -57.7966804493), (36.5187394764, -62.3793983918))
        make_face()
        with BuildLine():
            Line((44.4562397897, -94.4584225428), (52.393740103, -89.8757046002))
            ThreePointArc((52.393740103, -89.8757046002), (44.4562400956, -92.002551496), (36.5187400063, -89.8757049061))
            Line((36.5187400063, -89.8757049061), (44.4562397897, -94.4584225428))
        make_face()
        with BuildLine():
            ThreePointArc((28.5812397897, -76.127551496), (30.7080864142, -68.1900516527), (36.5187394764, -62.3793983918))
            Line((36.5187394764, -62.3793983918), (28.5812397897, -66.9621159726))
            Line((28.5812397897, -66.9621159726), (28.5812397897, -76.127551496))
        make_face()
        with BuildLine():
            Line((28.5812397897, -85.2929870194), (36.5187400063, -89.8757049061))
            ThreePointArc((36.5187400063, -89.8757049061), (30.7080865672, -84.0650516043), (28.5812397897, -76.127551496))
            Line((28.5812397897, -76.127551496), (28.5812397897, -85.2929870194))
        make_face()
    extrude(amount=-F28_DEPTH)


with BuildPart() as f30:
    # F29 (on face) → F30 (new body)
    with BuildSketch(Plane(origin=(0, 12.7, 0), x_dir=(-1, 0, 0), z_dir=(0, 1, 0))):
        with BuildLine():
            ThreePointArc((-36.6846980803, 62.3001834457), (-30.8740445583, 68.1108367566), (-28.7471977472, 76.0483369231))
            ThreePointArc((-28.7471977472, 76.0483369231), (-30.8740443717, 83.9858367665), (-36.6846974339, 89.7964900273))
            ThreePointArc((-36.6846974339, 89.7964900273), (-44.622197374, 91.9233369231), (-52.5596974141, 89.7964904005))
            ThreePointArc((-52.5596974141, 89.7964904005), (-58.3703509361, 83.9858370897), (-60.4971977472, 76.0483369231))
            ThreePointArc((-60.4971977472, 76.0483369231), (-58.3703509361, 68.1108367566), (-52.5596974141, 62.3001834457))
            ThreePointArc((-52.5596974141, 62.3001834457), (-44.6221977472, 60.1733369231), (-36.6846980803, 62.3001834457))
        make_face()
        with BuildLine():
            Line((-28.7471977472, 66.8829013997), (-28.7471977472, 76.0483369231))
            ThreePointArc((-28.7471977472, 76.0483369231), (-30.8740445583, 68.1108367566), (-36.6846980803, 62.3001834457))
            Line((-36.6846980803, 62.3001834457), (-28.7471977472, 66.8829013997))
        make_face()
        with BuildLine():
            ThreePointArc((-36.6846974339, 89.7964900273), (-30.8740443717, 83.9858367665), (-28.7471977472, 76.0483369231))
            Line((-28.7471977472, 76.0483369231), (-28.7471977472, 85.2137724465))
            Line((-28.7471977472, 85.2137724465), (-36.6846974339, 89.7964900273))
        make_face()
        with BuildLine():
            ThreePointArc((-52.5596974141, 89.7964904005), (-44.622197374, 91.9233369231), (-36.6846974339, 89.7964900273))
            Line((-36.6846974339, 89.7964900273), (-44.6221977472, 94.3792079699))
            Line((-44.6221977472, 94.3792079699), (-52.5596974141, 89.7964904005))
        make_face()
        with BuildLine():
            Line((-44.6221977472, 57.7174658764), (-36.6846980803, 62.3001834457))
            ThreePointArc((-36.6846980803, 62.3001834457), (-44.6221977472, 60.1733369231), (-52.5596974141, 62.3001834457))
            Line((-52.5596974141, 62.3001834457), (-44.6221977472, 57.7174658764))
        make_face()
        with BuildLine():
            ThreePointArc((-60.4971977472, 76.0483369231), (-58.3703509361, 83.9858370897), (-52.5596974141, 89.7964904005))
            Line((-52.5596974141, 89.7964904005), (-60.4971977472, 85.2137724465))
            Line((-60.4971977472, 85.2137724465), (-60.4971977472, 76.0483369231))
        make_face()
        with BuildLine():
            Line((-60.4971977472, 66.8829013997), (-52.5596974141, 62.3001834457))
            ThreePointArc((-52.5596974141, 62.3001834457), (-58.3703509361, 68.1108367566), (-60.4971977472, 76.0483369231))
            Line((-60.4971977472, 76.0483369231), (-60.4971977472, 66.8829013997))
        make_face()
    extrude(amount=F30_DEPTH)


with BuildPart() as f30b:
    # F29 (on face) → F30, piece 2 (new body)
    with BuildSketch(Plane(origin=(0, 12.7, 0), x_dir=(-1, 0, 0), z_dir=(0, 1, 0))):
        with BuildLine():
            ThreePointArc((-36.5187397233, -89.8757047428), (-30.7080864855, -84.0650514628), (-28.5812397897, -76.127551496))
            ThreePointArc((-28.5812397897, -76.127551496), (-30.7080864142, -68.1900516527), (-36.5187394764, -62.3793983918))
            ThreePointArc((-36.5187394764, -62.3793983918), (-44.4562397897, -60.252551496), (-52.393740103, -62.3793983918))
            ThreePointArc((-52.393740103, -62.3793983918), (-58.2043931652, -68.1900516527), (-60.3312397897, -76.127551496))
            ThreePointArc((-60.3312397897, -76.127551496), (-58.2043931652, -84.0650513394), (-52.393740103, -89.8757046002))
            ThreePointArc((-52.393740103, -89.8757046002), (-44.4562399323, -92.002551496), (-36.5187397233, -89.8757047428))
        make_face()
        with BuildLine():
            Line((-28.5812397897, -85.2929870194), (-28.5812397897, -76.127551496))
            ThreePointArc((-28.5812397897, -76.127551496), (-30.7080864855, -84.0650514628), (-36.5187397233, -89.8757047428))
            Line((-36.5187397233, -89.8757047428), (-28.5812397897, -85.2929870194))
        make_face()
        with BuildLine():
            ThreePointArc((-36.5187394764, -62.3793983918), (-30.7080864142, -68.1900516527), (-28.5812397897, -76.127551496))
            Line((-28.5812397897, -76.127551496), (-28.5812397897, -66.9621159726))
            Line((-28.5812397897, -66.9621159726), (-36.5187394764, -62.3793983918))
        make_face()
        with BuildLine():
            ThreePointArc((-52.393740103, -62.3793983918), (-44.4562397897, -60.252551496), (-36.5187394764, -62.3793983918))
            Line((-36.5187394764, -62.3793983918), (-44.4562397897, -57.7966804493))
            Line((-44.4562397897, -57.7966804493), (-52.393740103, -62.3793983918))
        make_face()
        with BuildLine():
            Line((-44.4562397897, -94.4584225428), (-36.5187397233, -89.8757047428))
            ThreePointArc((-36.5187397233, -89.8757047428), (-44.4562399323, -92.002551496), (-52.393740103, -89.8757046002))
            Line((-52.393740103, -89.8757046002), (-44.4562397897, -94.4584225428))
        make_face()
        with BuildLine():
            ThreePointArc((-60.3312397897, -76.127551496), (-58.2043931652, -68.1900516527), (-52.393740103, -62.3793983918))
            Line((-52.393740103, -62.3793983918), (-60.3312397897, -66.9621159726))
            Line((-60.3312397897, -66.9621159726), (-60.3312397897, -76.127551496))
        make_face()
        with BuildLine():
            Line((-60.3312397897, -85.2929870194), (-52.393740103, -89.8757046002))
            ThreePointArc((-52.393740103, -89.8757046002), (-58.2043931652, -84.0650513394), (-60.3312397897, -76.127551496))
            Line((-60.3312397897, -76.127551496), (-60.3312397897, -85.2929870194))
        make_face()
    extrude(amount=F30_DEPTH)


solid = Compound([f1.part, f3.part, f5.part, f7.part, f11.part, f13.part, f15.part, f17.part, f21.part, f23.part, f25.part, f25b.part, f26.part, f26b.part, f28.part, f28b.part, f30.part, f30b.part])
